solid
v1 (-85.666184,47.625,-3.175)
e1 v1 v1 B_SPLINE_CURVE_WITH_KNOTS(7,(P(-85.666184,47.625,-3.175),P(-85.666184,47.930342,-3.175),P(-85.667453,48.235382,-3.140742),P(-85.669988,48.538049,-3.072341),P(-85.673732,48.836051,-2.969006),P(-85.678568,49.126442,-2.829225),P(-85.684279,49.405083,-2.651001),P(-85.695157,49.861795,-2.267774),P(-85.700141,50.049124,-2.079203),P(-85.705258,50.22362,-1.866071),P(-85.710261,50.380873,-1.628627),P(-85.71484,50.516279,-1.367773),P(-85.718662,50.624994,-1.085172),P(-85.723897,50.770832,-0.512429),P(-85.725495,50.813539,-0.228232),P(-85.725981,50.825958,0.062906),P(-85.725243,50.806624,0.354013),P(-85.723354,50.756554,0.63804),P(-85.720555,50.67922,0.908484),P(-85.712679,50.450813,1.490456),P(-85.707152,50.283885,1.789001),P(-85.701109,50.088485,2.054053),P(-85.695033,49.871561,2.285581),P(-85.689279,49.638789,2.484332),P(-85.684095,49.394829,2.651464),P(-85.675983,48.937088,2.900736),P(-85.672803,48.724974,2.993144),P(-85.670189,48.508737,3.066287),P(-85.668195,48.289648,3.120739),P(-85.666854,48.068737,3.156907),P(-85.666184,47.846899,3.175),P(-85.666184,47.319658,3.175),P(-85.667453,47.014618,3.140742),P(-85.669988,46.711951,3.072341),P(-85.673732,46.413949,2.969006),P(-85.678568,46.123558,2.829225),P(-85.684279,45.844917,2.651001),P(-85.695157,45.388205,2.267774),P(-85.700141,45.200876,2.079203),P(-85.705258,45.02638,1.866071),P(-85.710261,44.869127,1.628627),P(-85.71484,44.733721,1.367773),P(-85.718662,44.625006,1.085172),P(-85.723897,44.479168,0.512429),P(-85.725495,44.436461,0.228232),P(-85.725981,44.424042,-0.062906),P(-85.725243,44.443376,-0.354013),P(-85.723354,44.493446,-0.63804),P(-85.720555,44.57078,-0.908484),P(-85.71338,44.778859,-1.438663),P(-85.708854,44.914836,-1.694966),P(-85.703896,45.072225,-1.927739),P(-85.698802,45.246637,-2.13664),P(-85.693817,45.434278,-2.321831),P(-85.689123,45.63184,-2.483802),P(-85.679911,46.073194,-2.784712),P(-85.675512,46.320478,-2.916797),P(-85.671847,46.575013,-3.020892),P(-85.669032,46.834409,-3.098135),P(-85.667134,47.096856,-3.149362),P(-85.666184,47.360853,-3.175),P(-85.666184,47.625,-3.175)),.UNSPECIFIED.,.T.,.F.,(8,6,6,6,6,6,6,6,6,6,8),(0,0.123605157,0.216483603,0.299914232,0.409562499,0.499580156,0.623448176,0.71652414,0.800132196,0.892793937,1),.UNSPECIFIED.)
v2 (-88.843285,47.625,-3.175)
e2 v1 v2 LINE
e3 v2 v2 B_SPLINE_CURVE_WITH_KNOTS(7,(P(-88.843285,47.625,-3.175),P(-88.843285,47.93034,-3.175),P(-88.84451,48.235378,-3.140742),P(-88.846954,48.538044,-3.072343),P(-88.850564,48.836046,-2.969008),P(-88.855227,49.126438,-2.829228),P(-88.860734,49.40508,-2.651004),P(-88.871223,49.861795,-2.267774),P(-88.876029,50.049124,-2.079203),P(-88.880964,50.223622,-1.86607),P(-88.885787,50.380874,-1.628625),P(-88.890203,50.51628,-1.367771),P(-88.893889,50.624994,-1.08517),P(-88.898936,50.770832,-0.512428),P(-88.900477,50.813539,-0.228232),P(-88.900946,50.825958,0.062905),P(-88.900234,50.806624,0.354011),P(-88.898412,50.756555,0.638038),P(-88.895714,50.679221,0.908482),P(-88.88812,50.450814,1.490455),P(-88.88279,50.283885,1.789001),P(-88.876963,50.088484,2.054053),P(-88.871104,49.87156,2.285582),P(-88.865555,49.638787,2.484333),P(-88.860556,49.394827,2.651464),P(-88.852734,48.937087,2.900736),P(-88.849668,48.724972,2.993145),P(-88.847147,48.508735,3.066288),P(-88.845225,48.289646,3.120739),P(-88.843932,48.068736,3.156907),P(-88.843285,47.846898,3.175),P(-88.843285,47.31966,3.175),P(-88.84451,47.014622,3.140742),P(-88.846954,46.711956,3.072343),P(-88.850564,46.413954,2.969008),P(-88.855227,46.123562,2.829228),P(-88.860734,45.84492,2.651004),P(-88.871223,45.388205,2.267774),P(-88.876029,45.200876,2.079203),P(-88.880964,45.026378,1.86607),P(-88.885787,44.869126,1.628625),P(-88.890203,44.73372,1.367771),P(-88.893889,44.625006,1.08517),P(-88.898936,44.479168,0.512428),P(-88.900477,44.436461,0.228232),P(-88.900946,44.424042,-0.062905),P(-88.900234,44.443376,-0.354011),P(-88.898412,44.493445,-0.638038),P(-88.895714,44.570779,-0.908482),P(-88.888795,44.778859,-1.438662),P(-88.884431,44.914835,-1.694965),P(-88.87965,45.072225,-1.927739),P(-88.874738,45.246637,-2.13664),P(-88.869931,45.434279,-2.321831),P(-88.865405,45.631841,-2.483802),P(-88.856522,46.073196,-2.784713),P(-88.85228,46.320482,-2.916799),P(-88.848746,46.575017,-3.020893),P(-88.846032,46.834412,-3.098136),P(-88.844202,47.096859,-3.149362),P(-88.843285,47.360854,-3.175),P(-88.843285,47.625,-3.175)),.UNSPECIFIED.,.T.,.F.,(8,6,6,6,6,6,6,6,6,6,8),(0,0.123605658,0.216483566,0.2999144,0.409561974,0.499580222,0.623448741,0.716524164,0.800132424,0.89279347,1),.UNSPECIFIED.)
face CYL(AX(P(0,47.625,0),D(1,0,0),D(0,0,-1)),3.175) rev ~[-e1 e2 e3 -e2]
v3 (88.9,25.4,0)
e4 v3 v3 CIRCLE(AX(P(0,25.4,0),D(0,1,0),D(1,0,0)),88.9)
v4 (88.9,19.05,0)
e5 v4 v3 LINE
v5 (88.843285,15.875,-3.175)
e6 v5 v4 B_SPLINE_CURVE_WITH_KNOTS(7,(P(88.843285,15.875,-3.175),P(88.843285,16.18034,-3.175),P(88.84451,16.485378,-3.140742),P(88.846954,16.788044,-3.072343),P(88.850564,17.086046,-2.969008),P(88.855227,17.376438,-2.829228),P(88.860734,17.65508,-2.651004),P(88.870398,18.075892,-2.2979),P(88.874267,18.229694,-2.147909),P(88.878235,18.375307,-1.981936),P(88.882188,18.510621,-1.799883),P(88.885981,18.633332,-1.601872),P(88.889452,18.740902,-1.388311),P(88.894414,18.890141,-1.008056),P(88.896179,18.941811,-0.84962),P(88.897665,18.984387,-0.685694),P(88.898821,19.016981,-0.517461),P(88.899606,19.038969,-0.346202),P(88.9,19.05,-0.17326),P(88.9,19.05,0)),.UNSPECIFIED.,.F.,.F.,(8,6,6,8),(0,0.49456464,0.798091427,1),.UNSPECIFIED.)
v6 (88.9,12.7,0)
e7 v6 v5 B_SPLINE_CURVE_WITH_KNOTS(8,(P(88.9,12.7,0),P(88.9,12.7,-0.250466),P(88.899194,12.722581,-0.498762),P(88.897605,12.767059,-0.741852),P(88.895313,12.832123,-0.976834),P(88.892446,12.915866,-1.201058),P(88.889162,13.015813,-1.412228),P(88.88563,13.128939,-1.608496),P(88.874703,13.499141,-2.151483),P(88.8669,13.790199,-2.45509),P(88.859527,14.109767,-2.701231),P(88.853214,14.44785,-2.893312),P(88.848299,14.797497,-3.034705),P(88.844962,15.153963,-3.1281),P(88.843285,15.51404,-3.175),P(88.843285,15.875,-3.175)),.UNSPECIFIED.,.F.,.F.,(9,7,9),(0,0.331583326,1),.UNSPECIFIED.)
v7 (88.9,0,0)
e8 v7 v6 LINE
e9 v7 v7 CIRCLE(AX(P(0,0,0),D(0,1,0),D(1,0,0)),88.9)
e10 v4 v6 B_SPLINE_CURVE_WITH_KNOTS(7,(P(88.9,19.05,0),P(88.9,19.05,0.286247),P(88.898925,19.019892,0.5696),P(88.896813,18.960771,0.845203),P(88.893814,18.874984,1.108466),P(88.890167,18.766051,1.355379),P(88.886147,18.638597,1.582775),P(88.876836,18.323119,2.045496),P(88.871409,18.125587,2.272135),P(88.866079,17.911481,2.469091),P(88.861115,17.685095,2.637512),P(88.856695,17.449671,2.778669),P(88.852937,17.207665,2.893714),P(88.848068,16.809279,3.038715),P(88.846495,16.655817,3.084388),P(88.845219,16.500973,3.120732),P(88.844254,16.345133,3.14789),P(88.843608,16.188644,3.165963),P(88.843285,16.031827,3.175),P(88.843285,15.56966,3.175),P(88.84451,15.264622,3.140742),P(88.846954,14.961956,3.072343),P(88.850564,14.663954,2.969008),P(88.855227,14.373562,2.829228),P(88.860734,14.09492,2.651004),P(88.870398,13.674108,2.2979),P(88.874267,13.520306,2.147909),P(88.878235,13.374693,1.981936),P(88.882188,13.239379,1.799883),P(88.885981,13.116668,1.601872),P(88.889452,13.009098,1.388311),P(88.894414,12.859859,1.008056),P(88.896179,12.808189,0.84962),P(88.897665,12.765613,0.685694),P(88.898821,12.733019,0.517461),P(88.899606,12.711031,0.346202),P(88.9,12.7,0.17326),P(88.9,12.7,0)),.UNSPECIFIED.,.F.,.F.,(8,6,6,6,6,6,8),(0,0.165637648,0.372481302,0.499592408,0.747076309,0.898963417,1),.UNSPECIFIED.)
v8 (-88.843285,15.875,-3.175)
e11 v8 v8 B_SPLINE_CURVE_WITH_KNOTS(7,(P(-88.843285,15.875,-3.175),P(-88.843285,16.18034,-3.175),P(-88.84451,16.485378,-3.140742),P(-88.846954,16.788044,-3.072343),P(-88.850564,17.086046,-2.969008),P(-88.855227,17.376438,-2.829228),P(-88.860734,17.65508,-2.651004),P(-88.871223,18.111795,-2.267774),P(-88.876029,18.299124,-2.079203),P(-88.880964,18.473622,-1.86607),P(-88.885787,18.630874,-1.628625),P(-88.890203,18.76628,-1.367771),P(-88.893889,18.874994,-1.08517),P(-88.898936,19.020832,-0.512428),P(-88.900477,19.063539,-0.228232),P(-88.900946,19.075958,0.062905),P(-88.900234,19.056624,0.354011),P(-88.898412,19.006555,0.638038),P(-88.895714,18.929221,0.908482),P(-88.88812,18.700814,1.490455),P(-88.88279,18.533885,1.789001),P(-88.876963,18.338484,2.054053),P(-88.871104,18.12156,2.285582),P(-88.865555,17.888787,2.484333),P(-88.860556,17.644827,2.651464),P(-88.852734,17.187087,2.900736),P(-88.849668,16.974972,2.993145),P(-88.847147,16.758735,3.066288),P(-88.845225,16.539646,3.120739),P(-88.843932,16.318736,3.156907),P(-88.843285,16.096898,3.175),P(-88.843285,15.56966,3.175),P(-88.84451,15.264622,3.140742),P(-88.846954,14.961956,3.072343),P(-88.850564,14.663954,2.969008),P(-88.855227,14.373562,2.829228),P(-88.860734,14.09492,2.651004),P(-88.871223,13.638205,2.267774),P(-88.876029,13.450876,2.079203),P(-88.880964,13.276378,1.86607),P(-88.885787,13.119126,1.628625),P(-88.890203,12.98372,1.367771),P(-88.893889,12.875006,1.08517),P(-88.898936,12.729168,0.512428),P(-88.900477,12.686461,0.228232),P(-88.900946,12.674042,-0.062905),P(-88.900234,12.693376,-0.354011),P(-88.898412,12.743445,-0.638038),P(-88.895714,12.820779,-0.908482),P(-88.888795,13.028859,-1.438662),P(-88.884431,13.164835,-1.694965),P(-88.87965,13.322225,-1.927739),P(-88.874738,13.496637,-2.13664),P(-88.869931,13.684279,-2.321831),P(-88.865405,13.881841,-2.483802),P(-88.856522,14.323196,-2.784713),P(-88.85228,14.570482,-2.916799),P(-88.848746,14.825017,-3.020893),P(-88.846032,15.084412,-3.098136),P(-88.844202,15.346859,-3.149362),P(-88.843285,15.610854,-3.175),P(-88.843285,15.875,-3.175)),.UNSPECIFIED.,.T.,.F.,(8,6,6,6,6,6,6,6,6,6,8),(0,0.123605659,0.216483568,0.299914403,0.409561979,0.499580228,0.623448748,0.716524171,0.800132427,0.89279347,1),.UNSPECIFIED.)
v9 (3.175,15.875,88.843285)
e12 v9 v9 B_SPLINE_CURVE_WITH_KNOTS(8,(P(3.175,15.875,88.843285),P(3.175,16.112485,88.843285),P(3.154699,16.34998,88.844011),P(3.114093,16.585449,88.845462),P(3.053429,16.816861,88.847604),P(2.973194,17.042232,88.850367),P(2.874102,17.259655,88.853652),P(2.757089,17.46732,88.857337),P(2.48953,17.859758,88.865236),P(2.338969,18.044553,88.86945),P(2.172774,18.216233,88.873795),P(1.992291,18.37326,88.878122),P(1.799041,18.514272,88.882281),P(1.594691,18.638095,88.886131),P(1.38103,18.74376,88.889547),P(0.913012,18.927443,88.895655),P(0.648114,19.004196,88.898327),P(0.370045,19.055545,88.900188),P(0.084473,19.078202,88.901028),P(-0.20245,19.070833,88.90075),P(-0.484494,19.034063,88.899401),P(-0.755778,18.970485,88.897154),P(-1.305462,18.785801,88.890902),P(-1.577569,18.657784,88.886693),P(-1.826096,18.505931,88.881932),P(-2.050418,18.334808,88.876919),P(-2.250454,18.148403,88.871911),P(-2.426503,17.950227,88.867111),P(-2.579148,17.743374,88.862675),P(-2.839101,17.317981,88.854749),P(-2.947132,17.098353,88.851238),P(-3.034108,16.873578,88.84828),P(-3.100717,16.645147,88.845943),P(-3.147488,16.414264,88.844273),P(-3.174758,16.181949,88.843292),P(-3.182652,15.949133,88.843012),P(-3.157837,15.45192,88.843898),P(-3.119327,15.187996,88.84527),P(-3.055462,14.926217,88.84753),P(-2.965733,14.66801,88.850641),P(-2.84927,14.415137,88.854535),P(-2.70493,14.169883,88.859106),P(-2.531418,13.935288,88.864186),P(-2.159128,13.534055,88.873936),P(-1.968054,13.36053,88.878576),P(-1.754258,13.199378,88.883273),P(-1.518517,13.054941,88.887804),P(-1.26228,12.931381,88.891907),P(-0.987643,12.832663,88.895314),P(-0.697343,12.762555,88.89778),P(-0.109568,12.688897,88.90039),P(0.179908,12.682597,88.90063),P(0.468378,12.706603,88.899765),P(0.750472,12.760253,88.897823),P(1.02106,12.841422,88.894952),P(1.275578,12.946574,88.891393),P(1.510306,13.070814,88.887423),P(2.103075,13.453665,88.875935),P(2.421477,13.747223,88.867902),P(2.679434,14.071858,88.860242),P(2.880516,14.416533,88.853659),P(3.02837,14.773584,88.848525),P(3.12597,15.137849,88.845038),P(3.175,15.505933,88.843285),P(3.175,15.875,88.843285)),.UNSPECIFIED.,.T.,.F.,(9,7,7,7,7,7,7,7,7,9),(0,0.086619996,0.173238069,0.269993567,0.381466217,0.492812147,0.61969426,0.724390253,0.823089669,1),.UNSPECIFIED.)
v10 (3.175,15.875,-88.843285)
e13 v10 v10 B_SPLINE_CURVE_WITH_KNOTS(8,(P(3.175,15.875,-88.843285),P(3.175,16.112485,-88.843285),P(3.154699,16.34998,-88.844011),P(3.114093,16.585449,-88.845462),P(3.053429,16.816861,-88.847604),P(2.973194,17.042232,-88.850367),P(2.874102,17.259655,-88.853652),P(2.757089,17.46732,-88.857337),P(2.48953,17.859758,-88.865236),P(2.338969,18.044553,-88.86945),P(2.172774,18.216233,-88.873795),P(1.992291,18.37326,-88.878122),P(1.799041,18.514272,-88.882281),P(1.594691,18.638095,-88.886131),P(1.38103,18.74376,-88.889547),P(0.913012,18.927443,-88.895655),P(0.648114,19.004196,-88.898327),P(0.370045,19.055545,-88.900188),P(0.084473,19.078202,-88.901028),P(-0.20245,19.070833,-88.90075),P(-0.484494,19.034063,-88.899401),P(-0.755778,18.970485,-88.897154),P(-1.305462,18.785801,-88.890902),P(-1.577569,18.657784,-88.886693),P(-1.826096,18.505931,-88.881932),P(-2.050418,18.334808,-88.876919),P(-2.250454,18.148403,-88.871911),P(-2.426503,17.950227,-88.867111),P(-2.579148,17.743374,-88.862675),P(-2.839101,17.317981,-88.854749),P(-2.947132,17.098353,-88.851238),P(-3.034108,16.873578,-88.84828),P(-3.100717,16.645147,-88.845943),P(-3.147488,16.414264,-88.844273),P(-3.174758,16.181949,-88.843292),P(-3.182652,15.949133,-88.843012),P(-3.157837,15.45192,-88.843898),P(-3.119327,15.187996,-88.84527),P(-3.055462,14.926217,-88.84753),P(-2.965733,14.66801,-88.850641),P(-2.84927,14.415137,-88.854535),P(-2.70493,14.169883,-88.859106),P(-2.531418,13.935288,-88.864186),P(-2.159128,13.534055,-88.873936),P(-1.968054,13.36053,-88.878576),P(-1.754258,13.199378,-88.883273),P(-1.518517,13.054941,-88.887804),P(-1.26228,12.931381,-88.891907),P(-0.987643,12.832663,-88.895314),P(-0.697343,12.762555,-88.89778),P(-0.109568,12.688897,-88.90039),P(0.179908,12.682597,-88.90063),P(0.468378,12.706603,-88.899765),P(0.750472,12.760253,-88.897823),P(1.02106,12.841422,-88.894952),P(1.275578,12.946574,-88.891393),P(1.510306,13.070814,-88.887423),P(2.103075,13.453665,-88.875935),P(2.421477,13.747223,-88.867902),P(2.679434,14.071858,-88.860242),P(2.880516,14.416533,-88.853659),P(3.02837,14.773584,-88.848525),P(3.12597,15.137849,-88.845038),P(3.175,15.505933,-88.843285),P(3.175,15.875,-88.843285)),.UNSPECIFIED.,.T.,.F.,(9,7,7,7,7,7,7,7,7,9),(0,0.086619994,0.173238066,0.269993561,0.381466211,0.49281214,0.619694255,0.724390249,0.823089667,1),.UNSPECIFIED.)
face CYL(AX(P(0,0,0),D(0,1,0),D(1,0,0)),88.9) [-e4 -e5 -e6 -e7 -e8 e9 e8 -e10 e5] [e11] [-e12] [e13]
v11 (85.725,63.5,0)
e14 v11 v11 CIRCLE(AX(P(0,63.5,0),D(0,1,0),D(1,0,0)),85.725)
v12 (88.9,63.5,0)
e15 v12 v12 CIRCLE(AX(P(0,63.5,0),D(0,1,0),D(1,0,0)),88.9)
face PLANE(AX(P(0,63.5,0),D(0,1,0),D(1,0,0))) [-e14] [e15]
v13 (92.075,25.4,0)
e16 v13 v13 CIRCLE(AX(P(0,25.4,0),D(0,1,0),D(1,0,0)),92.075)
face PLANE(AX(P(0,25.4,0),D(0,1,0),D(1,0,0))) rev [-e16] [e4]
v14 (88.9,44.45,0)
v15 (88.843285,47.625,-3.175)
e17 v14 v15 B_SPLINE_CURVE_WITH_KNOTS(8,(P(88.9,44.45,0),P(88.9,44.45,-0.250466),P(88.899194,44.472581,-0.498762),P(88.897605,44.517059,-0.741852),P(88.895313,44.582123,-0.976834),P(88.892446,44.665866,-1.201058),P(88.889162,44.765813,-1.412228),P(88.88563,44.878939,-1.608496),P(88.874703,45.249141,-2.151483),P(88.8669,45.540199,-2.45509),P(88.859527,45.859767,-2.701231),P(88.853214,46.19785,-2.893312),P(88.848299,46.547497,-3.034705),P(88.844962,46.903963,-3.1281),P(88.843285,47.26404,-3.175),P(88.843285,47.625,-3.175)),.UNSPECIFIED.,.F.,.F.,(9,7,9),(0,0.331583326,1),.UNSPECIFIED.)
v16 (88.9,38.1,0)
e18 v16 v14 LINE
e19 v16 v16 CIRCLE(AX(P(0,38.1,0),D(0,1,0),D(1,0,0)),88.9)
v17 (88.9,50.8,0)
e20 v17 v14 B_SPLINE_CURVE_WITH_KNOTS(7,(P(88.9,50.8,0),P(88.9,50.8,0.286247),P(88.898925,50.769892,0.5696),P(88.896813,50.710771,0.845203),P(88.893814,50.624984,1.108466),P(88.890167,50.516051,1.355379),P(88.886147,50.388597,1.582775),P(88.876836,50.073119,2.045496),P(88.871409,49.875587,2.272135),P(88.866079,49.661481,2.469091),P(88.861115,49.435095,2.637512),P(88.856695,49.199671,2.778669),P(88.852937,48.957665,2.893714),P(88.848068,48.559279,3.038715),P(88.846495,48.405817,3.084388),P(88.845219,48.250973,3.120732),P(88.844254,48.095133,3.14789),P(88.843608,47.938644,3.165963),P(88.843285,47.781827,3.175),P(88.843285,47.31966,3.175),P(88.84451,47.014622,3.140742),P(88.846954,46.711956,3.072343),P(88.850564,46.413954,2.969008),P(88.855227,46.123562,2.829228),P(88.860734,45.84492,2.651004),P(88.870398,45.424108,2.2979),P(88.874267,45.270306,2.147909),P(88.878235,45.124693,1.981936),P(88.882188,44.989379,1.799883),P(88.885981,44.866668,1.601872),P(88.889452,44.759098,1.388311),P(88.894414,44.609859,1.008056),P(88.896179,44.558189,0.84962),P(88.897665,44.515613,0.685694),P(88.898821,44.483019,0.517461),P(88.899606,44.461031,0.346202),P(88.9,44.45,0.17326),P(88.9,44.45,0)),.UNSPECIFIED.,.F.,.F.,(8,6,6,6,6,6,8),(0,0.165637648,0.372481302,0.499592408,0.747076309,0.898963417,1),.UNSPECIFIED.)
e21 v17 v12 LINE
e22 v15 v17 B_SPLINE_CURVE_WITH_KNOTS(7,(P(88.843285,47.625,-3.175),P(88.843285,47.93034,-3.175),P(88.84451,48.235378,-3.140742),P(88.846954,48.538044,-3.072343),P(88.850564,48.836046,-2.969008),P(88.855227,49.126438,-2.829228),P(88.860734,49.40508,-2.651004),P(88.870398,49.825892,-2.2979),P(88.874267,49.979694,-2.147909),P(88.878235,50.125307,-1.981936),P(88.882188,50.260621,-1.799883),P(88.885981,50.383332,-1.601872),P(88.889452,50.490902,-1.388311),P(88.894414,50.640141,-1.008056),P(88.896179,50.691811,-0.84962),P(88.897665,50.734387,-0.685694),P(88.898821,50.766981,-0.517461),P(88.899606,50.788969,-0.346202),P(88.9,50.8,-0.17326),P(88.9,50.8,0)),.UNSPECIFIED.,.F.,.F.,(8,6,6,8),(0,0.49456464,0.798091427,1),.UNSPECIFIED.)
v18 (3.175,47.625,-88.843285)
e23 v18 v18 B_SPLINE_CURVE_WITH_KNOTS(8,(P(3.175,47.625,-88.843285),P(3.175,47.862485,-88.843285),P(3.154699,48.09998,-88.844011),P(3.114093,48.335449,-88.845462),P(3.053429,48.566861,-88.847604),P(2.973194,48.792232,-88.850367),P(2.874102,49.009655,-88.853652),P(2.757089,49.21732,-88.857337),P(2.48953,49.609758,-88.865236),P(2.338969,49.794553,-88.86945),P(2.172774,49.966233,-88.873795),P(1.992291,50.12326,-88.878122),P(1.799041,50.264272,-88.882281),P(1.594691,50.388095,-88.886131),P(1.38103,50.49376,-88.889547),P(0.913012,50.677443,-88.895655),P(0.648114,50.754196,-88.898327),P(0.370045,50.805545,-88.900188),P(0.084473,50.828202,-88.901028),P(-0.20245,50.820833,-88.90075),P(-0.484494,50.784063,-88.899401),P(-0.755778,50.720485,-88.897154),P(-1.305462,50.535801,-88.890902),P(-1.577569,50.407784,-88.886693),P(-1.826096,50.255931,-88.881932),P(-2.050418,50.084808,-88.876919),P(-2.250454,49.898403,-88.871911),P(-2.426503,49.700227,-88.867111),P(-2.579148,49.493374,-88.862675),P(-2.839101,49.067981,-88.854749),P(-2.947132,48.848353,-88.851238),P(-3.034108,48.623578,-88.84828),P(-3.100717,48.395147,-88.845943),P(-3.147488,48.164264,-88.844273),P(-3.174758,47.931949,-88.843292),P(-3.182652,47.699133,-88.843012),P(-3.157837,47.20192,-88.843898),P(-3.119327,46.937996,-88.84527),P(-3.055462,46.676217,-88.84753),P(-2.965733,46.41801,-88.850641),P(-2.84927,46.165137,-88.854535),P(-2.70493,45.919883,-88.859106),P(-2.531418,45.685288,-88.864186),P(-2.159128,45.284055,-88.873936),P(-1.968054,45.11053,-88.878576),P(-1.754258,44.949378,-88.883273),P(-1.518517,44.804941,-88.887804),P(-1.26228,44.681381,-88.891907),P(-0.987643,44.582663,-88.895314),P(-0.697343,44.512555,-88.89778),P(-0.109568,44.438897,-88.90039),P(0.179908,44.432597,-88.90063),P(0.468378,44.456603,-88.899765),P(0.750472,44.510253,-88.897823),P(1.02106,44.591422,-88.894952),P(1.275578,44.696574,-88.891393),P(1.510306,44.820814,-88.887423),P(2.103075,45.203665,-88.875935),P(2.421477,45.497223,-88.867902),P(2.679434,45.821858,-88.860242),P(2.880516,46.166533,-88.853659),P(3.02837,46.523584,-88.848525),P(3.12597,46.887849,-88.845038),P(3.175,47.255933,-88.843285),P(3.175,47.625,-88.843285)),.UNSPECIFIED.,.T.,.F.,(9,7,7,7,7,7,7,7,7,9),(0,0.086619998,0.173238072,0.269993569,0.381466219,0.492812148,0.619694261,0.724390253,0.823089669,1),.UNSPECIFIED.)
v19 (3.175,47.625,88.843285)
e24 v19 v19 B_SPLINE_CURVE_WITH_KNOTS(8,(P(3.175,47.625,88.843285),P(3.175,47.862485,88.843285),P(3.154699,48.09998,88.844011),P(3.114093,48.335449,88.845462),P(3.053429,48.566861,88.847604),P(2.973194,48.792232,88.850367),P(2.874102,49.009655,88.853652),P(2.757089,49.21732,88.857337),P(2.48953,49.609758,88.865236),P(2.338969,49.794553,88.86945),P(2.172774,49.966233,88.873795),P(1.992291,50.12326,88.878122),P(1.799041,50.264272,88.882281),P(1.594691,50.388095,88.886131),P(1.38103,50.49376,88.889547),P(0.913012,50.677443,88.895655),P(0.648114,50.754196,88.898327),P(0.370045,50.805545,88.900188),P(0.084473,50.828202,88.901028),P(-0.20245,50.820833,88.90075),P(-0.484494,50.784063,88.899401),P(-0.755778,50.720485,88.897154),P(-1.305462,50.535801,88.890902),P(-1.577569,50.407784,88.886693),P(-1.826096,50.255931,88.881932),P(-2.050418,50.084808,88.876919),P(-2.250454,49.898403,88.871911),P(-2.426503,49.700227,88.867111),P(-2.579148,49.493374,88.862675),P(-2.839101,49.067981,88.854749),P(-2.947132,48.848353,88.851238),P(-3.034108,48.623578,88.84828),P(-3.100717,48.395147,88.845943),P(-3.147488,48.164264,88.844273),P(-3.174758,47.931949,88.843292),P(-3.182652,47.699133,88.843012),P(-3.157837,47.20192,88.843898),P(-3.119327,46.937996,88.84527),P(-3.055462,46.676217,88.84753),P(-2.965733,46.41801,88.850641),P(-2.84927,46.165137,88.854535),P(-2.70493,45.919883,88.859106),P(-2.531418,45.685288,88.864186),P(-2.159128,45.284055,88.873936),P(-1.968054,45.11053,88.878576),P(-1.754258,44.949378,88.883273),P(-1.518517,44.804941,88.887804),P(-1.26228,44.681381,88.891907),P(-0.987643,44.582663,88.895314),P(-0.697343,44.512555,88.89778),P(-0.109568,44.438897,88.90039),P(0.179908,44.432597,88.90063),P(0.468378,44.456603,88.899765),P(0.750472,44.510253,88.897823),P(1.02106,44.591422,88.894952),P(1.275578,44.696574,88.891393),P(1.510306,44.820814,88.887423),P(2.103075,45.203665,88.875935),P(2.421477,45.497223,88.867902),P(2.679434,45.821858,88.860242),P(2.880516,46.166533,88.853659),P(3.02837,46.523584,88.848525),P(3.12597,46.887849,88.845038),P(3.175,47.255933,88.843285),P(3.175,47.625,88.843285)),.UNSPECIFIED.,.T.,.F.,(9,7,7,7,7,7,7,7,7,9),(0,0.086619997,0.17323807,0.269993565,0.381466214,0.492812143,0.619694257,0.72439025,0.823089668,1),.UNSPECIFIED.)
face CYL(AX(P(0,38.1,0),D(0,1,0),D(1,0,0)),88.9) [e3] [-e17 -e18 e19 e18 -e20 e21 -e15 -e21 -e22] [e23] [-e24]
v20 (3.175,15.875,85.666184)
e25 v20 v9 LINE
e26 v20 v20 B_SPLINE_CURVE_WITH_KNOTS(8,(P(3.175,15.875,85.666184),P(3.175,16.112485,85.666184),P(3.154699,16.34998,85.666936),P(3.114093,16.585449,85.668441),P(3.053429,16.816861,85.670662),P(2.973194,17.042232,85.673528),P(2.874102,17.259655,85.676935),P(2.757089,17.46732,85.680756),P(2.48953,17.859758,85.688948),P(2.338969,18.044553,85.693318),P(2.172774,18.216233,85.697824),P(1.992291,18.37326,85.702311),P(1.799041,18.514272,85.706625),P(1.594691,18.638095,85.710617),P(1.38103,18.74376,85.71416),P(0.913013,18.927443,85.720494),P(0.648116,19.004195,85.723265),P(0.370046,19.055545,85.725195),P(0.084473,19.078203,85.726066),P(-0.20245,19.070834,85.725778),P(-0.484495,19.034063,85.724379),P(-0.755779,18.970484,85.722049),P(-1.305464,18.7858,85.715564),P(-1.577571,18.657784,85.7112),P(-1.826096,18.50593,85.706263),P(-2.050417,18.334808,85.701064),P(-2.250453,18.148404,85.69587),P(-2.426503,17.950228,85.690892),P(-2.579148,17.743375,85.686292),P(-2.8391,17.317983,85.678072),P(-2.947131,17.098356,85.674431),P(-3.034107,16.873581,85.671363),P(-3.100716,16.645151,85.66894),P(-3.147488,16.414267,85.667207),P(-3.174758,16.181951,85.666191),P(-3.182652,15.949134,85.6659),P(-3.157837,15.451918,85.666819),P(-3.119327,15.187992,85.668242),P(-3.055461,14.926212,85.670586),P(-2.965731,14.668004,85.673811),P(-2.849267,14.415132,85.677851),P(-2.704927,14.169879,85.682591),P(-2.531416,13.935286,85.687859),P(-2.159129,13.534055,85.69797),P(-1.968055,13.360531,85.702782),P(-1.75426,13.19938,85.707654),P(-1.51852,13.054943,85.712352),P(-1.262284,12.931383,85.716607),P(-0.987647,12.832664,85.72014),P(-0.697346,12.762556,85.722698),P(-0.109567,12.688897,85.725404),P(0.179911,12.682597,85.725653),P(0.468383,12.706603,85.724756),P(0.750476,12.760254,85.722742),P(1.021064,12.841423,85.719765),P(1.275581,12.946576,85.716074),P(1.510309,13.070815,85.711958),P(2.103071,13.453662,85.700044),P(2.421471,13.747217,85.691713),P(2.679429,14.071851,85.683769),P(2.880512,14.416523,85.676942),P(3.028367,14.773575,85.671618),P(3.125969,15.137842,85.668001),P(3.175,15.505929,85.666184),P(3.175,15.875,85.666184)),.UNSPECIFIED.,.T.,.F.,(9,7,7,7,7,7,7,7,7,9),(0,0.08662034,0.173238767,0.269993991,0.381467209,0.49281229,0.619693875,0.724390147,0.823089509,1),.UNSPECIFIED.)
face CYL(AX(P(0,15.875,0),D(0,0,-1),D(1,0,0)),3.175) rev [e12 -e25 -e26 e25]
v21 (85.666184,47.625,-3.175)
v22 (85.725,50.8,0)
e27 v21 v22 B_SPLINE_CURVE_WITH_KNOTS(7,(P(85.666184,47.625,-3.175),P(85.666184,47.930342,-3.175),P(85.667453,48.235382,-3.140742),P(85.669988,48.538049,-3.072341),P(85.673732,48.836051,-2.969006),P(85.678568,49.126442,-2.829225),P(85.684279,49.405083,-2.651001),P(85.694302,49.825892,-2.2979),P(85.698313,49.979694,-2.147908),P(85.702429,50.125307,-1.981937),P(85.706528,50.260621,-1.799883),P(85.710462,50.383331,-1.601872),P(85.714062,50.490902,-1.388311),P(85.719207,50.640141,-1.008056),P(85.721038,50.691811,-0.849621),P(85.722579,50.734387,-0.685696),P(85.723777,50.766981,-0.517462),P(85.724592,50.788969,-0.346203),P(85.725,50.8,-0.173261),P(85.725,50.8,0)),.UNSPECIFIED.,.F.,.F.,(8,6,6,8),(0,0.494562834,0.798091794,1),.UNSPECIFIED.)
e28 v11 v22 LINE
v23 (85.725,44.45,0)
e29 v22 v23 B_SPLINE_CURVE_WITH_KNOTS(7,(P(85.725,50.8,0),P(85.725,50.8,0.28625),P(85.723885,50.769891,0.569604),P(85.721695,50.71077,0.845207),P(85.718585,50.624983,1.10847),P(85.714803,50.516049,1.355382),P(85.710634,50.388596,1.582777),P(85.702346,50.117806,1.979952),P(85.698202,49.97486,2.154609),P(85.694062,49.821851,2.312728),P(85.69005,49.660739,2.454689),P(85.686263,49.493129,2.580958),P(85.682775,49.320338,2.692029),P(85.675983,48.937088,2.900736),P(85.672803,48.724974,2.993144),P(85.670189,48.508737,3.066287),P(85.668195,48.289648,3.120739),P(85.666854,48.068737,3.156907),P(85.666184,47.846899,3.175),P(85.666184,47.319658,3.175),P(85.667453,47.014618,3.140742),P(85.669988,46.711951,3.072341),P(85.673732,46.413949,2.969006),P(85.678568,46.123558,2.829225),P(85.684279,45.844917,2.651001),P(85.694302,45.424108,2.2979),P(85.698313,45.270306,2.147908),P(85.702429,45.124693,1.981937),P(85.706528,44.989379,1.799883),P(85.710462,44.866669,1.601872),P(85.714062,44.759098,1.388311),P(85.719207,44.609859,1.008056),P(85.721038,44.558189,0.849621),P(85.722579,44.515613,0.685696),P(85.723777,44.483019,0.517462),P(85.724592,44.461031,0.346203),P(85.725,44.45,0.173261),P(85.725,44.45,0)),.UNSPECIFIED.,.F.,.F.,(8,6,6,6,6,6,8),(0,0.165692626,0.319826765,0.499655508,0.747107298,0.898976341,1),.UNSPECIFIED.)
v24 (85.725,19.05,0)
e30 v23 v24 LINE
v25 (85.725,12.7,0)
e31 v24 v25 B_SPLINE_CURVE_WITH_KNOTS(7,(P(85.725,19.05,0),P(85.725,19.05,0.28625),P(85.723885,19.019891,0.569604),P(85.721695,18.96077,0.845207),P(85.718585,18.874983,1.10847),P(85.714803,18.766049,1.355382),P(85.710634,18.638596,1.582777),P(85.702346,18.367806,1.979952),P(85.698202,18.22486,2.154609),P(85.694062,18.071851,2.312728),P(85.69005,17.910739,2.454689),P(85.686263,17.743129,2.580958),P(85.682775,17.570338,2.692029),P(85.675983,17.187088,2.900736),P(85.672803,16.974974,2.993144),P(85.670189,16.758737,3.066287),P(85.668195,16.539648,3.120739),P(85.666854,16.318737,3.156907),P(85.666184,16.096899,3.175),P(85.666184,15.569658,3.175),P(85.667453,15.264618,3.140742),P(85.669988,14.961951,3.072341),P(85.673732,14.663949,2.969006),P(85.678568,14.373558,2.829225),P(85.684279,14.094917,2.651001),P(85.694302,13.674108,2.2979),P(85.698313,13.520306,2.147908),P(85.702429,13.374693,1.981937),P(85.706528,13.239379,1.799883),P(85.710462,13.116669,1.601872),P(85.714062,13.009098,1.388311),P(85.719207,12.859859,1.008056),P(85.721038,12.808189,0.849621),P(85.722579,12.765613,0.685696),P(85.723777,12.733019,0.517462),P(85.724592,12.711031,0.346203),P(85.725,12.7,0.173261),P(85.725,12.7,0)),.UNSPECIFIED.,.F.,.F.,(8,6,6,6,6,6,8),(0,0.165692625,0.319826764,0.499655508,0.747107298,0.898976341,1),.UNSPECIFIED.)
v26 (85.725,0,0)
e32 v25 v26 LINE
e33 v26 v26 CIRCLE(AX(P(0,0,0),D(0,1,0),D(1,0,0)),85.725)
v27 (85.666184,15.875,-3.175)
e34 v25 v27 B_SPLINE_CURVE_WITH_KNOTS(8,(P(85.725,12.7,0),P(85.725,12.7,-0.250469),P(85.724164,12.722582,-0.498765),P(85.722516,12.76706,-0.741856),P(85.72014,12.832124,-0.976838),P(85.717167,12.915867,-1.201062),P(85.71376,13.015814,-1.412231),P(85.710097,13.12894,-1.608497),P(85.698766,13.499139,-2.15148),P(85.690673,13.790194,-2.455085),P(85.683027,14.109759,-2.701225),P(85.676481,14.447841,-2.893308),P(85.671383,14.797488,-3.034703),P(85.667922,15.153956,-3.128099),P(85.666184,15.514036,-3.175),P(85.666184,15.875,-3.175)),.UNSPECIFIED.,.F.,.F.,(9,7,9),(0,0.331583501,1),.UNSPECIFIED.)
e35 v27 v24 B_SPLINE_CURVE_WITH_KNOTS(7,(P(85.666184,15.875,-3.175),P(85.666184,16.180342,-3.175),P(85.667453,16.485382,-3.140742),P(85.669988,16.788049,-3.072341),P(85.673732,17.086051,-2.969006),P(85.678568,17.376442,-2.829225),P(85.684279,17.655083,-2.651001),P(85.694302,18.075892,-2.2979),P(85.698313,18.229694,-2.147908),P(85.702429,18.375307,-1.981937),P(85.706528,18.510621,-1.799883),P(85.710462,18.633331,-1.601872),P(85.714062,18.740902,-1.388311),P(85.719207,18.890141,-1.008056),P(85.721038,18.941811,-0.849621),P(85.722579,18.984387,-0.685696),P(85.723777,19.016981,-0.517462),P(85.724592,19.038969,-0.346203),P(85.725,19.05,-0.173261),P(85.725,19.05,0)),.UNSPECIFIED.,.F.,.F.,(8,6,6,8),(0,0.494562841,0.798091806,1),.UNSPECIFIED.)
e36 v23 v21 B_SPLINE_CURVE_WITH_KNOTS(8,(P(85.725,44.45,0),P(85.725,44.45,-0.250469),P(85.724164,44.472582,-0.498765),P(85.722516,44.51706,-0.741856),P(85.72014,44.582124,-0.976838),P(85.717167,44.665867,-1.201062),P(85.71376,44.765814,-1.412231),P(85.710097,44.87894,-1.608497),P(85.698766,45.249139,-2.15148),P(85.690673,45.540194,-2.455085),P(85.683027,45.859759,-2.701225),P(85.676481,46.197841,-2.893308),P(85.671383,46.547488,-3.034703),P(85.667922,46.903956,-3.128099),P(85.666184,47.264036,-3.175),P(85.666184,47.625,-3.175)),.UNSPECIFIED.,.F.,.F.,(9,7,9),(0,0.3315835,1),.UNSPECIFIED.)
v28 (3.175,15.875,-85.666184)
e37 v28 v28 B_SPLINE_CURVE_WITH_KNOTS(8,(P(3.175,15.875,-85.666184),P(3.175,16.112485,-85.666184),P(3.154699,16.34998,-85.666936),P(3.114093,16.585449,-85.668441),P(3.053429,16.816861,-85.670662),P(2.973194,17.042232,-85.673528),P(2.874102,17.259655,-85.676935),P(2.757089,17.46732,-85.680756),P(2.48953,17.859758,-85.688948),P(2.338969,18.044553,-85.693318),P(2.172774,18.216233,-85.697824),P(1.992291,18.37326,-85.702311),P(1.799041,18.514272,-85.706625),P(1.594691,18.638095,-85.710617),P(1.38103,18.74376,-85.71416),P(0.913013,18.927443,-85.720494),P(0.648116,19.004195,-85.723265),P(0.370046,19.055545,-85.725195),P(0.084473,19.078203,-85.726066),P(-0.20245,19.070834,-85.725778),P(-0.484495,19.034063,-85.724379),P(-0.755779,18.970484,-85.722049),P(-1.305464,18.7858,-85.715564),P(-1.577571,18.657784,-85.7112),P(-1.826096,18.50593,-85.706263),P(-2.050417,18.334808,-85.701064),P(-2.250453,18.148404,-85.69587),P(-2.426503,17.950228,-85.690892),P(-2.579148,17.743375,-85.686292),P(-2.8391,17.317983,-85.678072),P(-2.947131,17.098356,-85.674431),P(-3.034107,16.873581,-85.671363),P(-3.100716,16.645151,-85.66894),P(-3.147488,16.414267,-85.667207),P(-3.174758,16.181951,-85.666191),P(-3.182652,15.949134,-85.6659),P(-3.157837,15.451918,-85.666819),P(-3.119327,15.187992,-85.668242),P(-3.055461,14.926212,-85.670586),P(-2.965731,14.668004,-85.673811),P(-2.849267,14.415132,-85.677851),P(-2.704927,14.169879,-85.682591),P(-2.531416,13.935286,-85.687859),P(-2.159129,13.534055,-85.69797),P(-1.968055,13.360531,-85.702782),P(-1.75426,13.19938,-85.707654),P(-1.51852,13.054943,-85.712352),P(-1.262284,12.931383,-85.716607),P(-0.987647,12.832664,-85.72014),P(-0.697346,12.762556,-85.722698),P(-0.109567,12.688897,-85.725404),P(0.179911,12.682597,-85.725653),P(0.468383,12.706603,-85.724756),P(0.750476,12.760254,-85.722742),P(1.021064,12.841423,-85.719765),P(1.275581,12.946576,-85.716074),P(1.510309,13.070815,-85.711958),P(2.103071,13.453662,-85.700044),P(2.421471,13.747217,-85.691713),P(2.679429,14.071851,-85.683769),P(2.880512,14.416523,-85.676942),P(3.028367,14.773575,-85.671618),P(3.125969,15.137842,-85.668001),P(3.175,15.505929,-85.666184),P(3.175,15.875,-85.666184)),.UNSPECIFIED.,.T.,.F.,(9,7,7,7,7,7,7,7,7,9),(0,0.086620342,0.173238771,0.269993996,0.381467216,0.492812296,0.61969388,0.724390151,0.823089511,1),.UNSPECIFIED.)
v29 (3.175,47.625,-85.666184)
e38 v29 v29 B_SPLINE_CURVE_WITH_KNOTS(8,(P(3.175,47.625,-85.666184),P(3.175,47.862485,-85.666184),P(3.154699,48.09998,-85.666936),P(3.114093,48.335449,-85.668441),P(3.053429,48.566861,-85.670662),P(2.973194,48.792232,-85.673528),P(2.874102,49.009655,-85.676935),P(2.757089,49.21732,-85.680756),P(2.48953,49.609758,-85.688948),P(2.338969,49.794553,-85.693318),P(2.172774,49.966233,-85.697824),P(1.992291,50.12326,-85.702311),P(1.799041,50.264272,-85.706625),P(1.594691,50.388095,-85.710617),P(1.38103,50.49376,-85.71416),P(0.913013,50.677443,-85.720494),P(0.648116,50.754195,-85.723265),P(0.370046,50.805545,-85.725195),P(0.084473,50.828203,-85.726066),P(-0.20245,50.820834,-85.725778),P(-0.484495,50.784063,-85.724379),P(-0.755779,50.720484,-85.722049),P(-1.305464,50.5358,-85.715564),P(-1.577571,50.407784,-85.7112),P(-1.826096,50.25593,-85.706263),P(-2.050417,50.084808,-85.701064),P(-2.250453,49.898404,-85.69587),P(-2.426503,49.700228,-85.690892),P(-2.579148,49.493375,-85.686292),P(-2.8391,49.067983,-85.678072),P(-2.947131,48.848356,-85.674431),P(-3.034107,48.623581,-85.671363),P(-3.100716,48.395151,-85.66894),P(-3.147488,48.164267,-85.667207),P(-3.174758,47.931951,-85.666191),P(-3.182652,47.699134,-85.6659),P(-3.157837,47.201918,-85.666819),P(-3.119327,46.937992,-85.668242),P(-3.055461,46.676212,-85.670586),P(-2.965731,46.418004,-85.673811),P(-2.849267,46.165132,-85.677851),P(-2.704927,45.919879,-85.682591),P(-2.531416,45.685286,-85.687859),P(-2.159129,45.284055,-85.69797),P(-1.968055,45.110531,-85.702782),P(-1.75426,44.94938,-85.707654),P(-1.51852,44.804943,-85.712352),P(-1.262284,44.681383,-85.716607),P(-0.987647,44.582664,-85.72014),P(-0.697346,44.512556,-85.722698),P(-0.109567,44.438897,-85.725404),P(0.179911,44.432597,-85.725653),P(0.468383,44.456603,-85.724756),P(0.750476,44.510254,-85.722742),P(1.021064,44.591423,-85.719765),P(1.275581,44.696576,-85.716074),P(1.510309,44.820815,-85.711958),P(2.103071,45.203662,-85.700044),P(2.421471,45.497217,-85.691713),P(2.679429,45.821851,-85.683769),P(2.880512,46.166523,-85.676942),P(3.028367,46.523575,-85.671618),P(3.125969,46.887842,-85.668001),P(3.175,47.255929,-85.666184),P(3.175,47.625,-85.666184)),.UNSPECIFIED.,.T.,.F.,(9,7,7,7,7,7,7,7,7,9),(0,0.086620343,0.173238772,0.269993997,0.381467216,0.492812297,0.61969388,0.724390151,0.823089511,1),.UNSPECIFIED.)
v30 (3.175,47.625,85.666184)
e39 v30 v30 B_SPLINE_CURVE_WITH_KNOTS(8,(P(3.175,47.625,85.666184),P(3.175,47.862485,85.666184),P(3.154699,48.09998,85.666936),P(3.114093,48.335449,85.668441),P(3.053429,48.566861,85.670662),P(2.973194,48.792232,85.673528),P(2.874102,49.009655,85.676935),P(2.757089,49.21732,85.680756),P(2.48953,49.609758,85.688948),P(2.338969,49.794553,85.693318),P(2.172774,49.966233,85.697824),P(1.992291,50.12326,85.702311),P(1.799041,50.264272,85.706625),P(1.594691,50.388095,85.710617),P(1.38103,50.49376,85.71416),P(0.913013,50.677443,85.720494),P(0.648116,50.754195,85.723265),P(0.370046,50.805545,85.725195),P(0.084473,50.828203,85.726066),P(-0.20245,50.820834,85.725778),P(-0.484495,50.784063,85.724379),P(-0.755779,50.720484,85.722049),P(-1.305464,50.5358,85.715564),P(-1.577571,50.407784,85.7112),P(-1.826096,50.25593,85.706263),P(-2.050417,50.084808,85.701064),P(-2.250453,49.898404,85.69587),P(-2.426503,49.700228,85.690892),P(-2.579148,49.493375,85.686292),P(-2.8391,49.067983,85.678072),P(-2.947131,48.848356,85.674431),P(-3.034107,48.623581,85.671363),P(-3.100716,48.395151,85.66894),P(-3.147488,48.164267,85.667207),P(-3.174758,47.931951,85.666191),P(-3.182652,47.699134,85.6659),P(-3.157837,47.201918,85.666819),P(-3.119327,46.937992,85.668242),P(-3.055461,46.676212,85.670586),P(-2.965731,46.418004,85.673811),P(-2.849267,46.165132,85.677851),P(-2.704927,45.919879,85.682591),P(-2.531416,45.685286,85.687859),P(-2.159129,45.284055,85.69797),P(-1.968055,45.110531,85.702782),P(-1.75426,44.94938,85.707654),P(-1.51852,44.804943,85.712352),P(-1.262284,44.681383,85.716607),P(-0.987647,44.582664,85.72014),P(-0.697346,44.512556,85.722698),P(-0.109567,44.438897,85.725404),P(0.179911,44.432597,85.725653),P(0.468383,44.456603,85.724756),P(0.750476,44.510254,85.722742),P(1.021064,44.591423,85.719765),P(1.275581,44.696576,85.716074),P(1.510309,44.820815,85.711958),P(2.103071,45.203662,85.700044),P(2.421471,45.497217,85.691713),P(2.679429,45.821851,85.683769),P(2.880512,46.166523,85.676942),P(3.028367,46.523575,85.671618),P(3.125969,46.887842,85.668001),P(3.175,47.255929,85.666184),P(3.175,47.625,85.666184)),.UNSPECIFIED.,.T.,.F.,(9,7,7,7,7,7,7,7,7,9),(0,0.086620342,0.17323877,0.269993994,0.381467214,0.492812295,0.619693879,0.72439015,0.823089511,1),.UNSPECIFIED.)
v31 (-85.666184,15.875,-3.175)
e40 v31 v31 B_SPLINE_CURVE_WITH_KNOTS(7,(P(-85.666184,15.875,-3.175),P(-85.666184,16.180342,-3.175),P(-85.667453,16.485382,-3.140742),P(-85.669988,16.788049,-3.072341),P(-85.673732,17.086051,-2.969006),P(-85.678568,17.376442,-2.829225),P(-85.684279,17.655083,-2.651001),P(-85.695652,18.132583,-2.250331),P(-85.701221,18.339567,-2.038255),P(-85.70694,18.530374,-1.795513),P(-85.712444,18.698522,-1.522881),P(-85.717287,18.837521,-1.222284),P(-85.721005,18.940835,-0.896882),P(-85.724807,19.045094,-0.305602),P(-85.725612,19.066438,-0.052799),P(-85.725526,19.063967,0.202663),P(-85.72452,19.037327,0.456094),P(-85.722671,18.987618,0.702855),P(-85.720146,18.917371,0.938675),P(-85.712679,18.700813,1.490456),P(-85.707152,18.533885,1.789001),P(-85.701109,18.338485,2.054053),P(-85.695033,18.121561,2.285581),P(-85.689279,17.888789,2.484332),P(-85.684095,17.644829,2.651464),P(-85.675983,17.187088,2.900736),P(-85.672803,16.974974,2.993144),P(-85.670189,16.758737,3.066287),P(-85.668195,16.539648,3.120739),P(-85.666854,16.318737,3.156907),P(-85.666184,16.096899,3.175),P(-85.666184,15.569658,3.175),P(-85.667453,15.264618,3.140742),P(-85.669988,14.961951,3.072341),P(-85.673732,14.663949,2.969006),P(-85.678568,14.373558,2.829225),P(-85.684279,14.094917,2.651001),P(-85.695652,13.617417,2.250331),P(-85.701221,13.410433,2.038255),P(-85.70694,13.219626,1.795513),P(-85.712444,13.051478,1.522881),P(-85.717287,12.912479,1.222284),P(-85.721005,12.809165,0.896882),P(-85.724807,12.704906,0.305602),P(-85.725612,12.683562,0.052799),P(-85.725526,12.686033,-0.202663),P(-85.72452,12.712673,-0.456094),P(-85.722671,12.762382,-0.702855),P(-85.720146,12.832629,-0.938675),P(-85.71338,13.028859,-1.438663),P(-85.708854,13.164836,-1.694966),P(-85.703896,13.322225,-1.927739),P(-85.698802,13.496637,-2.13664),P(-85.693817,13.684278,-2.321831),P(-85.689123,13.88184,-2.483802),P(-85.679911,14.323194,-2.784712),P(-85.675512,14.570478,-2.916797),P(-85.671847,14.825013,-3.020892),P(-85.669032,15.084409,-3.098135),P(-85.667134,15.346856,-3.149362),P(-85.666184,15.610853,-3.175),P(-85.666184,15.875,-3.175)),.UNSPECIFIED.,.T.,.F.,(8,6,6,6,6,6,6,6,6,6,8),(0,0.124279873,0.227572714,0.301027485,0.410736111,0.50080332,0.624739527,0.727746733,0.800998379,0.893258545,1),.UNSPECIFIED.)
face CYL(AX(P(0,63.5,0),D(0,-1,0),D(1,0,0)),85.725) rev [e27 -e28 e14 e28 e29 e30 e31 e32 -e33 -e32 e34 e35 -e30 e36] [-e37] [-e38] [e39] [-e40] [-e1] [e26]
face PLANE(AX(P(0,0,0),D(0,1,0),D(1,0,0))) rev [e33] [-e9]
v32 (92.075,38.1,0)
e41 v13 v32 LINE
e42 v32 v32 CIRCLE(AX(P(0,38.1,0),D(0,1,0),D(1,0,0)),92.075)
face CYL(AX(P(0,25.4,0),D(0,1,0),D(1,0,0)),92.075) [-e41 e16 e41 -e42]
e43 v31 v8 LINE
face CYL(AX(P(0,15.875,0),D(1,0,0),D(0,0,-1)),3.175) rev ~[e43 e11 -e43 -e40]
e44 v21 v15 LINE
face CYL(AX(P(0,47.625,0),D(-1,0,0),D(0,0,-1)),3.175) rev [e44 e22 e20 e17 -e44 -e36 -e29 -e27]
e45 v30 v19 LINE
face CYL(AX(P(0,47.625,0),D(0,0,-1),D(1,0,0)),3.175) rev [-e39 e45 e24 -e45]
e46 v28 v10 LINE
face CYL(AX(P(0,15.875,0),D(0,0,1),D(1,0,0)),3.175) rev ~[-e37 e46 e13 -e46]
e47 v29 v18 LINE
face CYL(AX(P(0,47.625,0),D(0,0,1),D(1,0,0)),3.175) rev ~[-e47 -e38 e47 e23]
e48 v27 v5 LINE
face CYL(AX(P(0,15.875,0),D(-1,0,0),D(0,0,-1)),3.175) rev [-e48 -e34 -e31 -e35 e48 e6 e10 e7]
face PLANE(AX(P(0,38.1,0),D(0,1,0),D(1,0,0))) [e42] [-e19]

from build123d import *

# Parameters (mm, degrees)
SKETCH2_R               = 3.175
CUT_EXTRUDE1_DEPTH      = 93.075
CUT_EXTRUDE1_DEPTH_BACK = 93.075
SKETCH3_R               = 3.175
CUT_EXTRUDE2_DEPTH      = 93.075
CUT_EXTRUDE2_DEPTH_BACK = 93.075


with BuildPart() as part:
    # Sketch1 → Revolve1 (revolve)
    with BuildSketch(Plane.XY):
        Polygon((92.075, 25.4), (92.075, 38.1), (88.9, 38.1), (88.9, 63.5), (85.725, 63.5), (85.725, 0), (88.9, 0), (88.9, 25.4), align=None)
    revolve(axis=Axis((0, 0, 0), (0, 1, 0)))

    # Sketch2 → Cut-Extrude1 (cut, two sides)
    with BuildSketch(Plane.XY) as cut_extrude1_sk:
        with Locations((0, 47.625)):
            Circle(SKETCH2_R)
        with Locations((0, 15.875)):
            Circle(SKETCH2_R)
    extrude(amount=CUT_EXTRUDE1_DEPTH, mode=Mode.SUBTRACT)
    extrude(cut_extrude1_sk.sketch, amount=-CUT_EXTRUDE1_DEPTH_BACK, mode=Mode.SUBTRACT)

    # Sketch3 → Cut-Extrude2 (cut, two sides)
    with BuildSketch(Plane(origin=(0, 0, 0), x_dir=(0, 0, -1), z_dir=(1, 0, 0))) as cut_extrude2_sk:
        with Locations((0, 47.625)):
            Circle(SKETCH3_R)
        with Locations((0, 15.875)):
            Circle(SKETCH3_R)
    extrude(amount=CUT_EXTRUDE2_DEPTH, mode=Mode.SUBTRACT)
    extrude(cut_extrude2_sk.sketch, amount=-CUT_EXTRUDE2_DEPTH_BACK, mode=Mode.SUBTRACT)


solid = part.part
